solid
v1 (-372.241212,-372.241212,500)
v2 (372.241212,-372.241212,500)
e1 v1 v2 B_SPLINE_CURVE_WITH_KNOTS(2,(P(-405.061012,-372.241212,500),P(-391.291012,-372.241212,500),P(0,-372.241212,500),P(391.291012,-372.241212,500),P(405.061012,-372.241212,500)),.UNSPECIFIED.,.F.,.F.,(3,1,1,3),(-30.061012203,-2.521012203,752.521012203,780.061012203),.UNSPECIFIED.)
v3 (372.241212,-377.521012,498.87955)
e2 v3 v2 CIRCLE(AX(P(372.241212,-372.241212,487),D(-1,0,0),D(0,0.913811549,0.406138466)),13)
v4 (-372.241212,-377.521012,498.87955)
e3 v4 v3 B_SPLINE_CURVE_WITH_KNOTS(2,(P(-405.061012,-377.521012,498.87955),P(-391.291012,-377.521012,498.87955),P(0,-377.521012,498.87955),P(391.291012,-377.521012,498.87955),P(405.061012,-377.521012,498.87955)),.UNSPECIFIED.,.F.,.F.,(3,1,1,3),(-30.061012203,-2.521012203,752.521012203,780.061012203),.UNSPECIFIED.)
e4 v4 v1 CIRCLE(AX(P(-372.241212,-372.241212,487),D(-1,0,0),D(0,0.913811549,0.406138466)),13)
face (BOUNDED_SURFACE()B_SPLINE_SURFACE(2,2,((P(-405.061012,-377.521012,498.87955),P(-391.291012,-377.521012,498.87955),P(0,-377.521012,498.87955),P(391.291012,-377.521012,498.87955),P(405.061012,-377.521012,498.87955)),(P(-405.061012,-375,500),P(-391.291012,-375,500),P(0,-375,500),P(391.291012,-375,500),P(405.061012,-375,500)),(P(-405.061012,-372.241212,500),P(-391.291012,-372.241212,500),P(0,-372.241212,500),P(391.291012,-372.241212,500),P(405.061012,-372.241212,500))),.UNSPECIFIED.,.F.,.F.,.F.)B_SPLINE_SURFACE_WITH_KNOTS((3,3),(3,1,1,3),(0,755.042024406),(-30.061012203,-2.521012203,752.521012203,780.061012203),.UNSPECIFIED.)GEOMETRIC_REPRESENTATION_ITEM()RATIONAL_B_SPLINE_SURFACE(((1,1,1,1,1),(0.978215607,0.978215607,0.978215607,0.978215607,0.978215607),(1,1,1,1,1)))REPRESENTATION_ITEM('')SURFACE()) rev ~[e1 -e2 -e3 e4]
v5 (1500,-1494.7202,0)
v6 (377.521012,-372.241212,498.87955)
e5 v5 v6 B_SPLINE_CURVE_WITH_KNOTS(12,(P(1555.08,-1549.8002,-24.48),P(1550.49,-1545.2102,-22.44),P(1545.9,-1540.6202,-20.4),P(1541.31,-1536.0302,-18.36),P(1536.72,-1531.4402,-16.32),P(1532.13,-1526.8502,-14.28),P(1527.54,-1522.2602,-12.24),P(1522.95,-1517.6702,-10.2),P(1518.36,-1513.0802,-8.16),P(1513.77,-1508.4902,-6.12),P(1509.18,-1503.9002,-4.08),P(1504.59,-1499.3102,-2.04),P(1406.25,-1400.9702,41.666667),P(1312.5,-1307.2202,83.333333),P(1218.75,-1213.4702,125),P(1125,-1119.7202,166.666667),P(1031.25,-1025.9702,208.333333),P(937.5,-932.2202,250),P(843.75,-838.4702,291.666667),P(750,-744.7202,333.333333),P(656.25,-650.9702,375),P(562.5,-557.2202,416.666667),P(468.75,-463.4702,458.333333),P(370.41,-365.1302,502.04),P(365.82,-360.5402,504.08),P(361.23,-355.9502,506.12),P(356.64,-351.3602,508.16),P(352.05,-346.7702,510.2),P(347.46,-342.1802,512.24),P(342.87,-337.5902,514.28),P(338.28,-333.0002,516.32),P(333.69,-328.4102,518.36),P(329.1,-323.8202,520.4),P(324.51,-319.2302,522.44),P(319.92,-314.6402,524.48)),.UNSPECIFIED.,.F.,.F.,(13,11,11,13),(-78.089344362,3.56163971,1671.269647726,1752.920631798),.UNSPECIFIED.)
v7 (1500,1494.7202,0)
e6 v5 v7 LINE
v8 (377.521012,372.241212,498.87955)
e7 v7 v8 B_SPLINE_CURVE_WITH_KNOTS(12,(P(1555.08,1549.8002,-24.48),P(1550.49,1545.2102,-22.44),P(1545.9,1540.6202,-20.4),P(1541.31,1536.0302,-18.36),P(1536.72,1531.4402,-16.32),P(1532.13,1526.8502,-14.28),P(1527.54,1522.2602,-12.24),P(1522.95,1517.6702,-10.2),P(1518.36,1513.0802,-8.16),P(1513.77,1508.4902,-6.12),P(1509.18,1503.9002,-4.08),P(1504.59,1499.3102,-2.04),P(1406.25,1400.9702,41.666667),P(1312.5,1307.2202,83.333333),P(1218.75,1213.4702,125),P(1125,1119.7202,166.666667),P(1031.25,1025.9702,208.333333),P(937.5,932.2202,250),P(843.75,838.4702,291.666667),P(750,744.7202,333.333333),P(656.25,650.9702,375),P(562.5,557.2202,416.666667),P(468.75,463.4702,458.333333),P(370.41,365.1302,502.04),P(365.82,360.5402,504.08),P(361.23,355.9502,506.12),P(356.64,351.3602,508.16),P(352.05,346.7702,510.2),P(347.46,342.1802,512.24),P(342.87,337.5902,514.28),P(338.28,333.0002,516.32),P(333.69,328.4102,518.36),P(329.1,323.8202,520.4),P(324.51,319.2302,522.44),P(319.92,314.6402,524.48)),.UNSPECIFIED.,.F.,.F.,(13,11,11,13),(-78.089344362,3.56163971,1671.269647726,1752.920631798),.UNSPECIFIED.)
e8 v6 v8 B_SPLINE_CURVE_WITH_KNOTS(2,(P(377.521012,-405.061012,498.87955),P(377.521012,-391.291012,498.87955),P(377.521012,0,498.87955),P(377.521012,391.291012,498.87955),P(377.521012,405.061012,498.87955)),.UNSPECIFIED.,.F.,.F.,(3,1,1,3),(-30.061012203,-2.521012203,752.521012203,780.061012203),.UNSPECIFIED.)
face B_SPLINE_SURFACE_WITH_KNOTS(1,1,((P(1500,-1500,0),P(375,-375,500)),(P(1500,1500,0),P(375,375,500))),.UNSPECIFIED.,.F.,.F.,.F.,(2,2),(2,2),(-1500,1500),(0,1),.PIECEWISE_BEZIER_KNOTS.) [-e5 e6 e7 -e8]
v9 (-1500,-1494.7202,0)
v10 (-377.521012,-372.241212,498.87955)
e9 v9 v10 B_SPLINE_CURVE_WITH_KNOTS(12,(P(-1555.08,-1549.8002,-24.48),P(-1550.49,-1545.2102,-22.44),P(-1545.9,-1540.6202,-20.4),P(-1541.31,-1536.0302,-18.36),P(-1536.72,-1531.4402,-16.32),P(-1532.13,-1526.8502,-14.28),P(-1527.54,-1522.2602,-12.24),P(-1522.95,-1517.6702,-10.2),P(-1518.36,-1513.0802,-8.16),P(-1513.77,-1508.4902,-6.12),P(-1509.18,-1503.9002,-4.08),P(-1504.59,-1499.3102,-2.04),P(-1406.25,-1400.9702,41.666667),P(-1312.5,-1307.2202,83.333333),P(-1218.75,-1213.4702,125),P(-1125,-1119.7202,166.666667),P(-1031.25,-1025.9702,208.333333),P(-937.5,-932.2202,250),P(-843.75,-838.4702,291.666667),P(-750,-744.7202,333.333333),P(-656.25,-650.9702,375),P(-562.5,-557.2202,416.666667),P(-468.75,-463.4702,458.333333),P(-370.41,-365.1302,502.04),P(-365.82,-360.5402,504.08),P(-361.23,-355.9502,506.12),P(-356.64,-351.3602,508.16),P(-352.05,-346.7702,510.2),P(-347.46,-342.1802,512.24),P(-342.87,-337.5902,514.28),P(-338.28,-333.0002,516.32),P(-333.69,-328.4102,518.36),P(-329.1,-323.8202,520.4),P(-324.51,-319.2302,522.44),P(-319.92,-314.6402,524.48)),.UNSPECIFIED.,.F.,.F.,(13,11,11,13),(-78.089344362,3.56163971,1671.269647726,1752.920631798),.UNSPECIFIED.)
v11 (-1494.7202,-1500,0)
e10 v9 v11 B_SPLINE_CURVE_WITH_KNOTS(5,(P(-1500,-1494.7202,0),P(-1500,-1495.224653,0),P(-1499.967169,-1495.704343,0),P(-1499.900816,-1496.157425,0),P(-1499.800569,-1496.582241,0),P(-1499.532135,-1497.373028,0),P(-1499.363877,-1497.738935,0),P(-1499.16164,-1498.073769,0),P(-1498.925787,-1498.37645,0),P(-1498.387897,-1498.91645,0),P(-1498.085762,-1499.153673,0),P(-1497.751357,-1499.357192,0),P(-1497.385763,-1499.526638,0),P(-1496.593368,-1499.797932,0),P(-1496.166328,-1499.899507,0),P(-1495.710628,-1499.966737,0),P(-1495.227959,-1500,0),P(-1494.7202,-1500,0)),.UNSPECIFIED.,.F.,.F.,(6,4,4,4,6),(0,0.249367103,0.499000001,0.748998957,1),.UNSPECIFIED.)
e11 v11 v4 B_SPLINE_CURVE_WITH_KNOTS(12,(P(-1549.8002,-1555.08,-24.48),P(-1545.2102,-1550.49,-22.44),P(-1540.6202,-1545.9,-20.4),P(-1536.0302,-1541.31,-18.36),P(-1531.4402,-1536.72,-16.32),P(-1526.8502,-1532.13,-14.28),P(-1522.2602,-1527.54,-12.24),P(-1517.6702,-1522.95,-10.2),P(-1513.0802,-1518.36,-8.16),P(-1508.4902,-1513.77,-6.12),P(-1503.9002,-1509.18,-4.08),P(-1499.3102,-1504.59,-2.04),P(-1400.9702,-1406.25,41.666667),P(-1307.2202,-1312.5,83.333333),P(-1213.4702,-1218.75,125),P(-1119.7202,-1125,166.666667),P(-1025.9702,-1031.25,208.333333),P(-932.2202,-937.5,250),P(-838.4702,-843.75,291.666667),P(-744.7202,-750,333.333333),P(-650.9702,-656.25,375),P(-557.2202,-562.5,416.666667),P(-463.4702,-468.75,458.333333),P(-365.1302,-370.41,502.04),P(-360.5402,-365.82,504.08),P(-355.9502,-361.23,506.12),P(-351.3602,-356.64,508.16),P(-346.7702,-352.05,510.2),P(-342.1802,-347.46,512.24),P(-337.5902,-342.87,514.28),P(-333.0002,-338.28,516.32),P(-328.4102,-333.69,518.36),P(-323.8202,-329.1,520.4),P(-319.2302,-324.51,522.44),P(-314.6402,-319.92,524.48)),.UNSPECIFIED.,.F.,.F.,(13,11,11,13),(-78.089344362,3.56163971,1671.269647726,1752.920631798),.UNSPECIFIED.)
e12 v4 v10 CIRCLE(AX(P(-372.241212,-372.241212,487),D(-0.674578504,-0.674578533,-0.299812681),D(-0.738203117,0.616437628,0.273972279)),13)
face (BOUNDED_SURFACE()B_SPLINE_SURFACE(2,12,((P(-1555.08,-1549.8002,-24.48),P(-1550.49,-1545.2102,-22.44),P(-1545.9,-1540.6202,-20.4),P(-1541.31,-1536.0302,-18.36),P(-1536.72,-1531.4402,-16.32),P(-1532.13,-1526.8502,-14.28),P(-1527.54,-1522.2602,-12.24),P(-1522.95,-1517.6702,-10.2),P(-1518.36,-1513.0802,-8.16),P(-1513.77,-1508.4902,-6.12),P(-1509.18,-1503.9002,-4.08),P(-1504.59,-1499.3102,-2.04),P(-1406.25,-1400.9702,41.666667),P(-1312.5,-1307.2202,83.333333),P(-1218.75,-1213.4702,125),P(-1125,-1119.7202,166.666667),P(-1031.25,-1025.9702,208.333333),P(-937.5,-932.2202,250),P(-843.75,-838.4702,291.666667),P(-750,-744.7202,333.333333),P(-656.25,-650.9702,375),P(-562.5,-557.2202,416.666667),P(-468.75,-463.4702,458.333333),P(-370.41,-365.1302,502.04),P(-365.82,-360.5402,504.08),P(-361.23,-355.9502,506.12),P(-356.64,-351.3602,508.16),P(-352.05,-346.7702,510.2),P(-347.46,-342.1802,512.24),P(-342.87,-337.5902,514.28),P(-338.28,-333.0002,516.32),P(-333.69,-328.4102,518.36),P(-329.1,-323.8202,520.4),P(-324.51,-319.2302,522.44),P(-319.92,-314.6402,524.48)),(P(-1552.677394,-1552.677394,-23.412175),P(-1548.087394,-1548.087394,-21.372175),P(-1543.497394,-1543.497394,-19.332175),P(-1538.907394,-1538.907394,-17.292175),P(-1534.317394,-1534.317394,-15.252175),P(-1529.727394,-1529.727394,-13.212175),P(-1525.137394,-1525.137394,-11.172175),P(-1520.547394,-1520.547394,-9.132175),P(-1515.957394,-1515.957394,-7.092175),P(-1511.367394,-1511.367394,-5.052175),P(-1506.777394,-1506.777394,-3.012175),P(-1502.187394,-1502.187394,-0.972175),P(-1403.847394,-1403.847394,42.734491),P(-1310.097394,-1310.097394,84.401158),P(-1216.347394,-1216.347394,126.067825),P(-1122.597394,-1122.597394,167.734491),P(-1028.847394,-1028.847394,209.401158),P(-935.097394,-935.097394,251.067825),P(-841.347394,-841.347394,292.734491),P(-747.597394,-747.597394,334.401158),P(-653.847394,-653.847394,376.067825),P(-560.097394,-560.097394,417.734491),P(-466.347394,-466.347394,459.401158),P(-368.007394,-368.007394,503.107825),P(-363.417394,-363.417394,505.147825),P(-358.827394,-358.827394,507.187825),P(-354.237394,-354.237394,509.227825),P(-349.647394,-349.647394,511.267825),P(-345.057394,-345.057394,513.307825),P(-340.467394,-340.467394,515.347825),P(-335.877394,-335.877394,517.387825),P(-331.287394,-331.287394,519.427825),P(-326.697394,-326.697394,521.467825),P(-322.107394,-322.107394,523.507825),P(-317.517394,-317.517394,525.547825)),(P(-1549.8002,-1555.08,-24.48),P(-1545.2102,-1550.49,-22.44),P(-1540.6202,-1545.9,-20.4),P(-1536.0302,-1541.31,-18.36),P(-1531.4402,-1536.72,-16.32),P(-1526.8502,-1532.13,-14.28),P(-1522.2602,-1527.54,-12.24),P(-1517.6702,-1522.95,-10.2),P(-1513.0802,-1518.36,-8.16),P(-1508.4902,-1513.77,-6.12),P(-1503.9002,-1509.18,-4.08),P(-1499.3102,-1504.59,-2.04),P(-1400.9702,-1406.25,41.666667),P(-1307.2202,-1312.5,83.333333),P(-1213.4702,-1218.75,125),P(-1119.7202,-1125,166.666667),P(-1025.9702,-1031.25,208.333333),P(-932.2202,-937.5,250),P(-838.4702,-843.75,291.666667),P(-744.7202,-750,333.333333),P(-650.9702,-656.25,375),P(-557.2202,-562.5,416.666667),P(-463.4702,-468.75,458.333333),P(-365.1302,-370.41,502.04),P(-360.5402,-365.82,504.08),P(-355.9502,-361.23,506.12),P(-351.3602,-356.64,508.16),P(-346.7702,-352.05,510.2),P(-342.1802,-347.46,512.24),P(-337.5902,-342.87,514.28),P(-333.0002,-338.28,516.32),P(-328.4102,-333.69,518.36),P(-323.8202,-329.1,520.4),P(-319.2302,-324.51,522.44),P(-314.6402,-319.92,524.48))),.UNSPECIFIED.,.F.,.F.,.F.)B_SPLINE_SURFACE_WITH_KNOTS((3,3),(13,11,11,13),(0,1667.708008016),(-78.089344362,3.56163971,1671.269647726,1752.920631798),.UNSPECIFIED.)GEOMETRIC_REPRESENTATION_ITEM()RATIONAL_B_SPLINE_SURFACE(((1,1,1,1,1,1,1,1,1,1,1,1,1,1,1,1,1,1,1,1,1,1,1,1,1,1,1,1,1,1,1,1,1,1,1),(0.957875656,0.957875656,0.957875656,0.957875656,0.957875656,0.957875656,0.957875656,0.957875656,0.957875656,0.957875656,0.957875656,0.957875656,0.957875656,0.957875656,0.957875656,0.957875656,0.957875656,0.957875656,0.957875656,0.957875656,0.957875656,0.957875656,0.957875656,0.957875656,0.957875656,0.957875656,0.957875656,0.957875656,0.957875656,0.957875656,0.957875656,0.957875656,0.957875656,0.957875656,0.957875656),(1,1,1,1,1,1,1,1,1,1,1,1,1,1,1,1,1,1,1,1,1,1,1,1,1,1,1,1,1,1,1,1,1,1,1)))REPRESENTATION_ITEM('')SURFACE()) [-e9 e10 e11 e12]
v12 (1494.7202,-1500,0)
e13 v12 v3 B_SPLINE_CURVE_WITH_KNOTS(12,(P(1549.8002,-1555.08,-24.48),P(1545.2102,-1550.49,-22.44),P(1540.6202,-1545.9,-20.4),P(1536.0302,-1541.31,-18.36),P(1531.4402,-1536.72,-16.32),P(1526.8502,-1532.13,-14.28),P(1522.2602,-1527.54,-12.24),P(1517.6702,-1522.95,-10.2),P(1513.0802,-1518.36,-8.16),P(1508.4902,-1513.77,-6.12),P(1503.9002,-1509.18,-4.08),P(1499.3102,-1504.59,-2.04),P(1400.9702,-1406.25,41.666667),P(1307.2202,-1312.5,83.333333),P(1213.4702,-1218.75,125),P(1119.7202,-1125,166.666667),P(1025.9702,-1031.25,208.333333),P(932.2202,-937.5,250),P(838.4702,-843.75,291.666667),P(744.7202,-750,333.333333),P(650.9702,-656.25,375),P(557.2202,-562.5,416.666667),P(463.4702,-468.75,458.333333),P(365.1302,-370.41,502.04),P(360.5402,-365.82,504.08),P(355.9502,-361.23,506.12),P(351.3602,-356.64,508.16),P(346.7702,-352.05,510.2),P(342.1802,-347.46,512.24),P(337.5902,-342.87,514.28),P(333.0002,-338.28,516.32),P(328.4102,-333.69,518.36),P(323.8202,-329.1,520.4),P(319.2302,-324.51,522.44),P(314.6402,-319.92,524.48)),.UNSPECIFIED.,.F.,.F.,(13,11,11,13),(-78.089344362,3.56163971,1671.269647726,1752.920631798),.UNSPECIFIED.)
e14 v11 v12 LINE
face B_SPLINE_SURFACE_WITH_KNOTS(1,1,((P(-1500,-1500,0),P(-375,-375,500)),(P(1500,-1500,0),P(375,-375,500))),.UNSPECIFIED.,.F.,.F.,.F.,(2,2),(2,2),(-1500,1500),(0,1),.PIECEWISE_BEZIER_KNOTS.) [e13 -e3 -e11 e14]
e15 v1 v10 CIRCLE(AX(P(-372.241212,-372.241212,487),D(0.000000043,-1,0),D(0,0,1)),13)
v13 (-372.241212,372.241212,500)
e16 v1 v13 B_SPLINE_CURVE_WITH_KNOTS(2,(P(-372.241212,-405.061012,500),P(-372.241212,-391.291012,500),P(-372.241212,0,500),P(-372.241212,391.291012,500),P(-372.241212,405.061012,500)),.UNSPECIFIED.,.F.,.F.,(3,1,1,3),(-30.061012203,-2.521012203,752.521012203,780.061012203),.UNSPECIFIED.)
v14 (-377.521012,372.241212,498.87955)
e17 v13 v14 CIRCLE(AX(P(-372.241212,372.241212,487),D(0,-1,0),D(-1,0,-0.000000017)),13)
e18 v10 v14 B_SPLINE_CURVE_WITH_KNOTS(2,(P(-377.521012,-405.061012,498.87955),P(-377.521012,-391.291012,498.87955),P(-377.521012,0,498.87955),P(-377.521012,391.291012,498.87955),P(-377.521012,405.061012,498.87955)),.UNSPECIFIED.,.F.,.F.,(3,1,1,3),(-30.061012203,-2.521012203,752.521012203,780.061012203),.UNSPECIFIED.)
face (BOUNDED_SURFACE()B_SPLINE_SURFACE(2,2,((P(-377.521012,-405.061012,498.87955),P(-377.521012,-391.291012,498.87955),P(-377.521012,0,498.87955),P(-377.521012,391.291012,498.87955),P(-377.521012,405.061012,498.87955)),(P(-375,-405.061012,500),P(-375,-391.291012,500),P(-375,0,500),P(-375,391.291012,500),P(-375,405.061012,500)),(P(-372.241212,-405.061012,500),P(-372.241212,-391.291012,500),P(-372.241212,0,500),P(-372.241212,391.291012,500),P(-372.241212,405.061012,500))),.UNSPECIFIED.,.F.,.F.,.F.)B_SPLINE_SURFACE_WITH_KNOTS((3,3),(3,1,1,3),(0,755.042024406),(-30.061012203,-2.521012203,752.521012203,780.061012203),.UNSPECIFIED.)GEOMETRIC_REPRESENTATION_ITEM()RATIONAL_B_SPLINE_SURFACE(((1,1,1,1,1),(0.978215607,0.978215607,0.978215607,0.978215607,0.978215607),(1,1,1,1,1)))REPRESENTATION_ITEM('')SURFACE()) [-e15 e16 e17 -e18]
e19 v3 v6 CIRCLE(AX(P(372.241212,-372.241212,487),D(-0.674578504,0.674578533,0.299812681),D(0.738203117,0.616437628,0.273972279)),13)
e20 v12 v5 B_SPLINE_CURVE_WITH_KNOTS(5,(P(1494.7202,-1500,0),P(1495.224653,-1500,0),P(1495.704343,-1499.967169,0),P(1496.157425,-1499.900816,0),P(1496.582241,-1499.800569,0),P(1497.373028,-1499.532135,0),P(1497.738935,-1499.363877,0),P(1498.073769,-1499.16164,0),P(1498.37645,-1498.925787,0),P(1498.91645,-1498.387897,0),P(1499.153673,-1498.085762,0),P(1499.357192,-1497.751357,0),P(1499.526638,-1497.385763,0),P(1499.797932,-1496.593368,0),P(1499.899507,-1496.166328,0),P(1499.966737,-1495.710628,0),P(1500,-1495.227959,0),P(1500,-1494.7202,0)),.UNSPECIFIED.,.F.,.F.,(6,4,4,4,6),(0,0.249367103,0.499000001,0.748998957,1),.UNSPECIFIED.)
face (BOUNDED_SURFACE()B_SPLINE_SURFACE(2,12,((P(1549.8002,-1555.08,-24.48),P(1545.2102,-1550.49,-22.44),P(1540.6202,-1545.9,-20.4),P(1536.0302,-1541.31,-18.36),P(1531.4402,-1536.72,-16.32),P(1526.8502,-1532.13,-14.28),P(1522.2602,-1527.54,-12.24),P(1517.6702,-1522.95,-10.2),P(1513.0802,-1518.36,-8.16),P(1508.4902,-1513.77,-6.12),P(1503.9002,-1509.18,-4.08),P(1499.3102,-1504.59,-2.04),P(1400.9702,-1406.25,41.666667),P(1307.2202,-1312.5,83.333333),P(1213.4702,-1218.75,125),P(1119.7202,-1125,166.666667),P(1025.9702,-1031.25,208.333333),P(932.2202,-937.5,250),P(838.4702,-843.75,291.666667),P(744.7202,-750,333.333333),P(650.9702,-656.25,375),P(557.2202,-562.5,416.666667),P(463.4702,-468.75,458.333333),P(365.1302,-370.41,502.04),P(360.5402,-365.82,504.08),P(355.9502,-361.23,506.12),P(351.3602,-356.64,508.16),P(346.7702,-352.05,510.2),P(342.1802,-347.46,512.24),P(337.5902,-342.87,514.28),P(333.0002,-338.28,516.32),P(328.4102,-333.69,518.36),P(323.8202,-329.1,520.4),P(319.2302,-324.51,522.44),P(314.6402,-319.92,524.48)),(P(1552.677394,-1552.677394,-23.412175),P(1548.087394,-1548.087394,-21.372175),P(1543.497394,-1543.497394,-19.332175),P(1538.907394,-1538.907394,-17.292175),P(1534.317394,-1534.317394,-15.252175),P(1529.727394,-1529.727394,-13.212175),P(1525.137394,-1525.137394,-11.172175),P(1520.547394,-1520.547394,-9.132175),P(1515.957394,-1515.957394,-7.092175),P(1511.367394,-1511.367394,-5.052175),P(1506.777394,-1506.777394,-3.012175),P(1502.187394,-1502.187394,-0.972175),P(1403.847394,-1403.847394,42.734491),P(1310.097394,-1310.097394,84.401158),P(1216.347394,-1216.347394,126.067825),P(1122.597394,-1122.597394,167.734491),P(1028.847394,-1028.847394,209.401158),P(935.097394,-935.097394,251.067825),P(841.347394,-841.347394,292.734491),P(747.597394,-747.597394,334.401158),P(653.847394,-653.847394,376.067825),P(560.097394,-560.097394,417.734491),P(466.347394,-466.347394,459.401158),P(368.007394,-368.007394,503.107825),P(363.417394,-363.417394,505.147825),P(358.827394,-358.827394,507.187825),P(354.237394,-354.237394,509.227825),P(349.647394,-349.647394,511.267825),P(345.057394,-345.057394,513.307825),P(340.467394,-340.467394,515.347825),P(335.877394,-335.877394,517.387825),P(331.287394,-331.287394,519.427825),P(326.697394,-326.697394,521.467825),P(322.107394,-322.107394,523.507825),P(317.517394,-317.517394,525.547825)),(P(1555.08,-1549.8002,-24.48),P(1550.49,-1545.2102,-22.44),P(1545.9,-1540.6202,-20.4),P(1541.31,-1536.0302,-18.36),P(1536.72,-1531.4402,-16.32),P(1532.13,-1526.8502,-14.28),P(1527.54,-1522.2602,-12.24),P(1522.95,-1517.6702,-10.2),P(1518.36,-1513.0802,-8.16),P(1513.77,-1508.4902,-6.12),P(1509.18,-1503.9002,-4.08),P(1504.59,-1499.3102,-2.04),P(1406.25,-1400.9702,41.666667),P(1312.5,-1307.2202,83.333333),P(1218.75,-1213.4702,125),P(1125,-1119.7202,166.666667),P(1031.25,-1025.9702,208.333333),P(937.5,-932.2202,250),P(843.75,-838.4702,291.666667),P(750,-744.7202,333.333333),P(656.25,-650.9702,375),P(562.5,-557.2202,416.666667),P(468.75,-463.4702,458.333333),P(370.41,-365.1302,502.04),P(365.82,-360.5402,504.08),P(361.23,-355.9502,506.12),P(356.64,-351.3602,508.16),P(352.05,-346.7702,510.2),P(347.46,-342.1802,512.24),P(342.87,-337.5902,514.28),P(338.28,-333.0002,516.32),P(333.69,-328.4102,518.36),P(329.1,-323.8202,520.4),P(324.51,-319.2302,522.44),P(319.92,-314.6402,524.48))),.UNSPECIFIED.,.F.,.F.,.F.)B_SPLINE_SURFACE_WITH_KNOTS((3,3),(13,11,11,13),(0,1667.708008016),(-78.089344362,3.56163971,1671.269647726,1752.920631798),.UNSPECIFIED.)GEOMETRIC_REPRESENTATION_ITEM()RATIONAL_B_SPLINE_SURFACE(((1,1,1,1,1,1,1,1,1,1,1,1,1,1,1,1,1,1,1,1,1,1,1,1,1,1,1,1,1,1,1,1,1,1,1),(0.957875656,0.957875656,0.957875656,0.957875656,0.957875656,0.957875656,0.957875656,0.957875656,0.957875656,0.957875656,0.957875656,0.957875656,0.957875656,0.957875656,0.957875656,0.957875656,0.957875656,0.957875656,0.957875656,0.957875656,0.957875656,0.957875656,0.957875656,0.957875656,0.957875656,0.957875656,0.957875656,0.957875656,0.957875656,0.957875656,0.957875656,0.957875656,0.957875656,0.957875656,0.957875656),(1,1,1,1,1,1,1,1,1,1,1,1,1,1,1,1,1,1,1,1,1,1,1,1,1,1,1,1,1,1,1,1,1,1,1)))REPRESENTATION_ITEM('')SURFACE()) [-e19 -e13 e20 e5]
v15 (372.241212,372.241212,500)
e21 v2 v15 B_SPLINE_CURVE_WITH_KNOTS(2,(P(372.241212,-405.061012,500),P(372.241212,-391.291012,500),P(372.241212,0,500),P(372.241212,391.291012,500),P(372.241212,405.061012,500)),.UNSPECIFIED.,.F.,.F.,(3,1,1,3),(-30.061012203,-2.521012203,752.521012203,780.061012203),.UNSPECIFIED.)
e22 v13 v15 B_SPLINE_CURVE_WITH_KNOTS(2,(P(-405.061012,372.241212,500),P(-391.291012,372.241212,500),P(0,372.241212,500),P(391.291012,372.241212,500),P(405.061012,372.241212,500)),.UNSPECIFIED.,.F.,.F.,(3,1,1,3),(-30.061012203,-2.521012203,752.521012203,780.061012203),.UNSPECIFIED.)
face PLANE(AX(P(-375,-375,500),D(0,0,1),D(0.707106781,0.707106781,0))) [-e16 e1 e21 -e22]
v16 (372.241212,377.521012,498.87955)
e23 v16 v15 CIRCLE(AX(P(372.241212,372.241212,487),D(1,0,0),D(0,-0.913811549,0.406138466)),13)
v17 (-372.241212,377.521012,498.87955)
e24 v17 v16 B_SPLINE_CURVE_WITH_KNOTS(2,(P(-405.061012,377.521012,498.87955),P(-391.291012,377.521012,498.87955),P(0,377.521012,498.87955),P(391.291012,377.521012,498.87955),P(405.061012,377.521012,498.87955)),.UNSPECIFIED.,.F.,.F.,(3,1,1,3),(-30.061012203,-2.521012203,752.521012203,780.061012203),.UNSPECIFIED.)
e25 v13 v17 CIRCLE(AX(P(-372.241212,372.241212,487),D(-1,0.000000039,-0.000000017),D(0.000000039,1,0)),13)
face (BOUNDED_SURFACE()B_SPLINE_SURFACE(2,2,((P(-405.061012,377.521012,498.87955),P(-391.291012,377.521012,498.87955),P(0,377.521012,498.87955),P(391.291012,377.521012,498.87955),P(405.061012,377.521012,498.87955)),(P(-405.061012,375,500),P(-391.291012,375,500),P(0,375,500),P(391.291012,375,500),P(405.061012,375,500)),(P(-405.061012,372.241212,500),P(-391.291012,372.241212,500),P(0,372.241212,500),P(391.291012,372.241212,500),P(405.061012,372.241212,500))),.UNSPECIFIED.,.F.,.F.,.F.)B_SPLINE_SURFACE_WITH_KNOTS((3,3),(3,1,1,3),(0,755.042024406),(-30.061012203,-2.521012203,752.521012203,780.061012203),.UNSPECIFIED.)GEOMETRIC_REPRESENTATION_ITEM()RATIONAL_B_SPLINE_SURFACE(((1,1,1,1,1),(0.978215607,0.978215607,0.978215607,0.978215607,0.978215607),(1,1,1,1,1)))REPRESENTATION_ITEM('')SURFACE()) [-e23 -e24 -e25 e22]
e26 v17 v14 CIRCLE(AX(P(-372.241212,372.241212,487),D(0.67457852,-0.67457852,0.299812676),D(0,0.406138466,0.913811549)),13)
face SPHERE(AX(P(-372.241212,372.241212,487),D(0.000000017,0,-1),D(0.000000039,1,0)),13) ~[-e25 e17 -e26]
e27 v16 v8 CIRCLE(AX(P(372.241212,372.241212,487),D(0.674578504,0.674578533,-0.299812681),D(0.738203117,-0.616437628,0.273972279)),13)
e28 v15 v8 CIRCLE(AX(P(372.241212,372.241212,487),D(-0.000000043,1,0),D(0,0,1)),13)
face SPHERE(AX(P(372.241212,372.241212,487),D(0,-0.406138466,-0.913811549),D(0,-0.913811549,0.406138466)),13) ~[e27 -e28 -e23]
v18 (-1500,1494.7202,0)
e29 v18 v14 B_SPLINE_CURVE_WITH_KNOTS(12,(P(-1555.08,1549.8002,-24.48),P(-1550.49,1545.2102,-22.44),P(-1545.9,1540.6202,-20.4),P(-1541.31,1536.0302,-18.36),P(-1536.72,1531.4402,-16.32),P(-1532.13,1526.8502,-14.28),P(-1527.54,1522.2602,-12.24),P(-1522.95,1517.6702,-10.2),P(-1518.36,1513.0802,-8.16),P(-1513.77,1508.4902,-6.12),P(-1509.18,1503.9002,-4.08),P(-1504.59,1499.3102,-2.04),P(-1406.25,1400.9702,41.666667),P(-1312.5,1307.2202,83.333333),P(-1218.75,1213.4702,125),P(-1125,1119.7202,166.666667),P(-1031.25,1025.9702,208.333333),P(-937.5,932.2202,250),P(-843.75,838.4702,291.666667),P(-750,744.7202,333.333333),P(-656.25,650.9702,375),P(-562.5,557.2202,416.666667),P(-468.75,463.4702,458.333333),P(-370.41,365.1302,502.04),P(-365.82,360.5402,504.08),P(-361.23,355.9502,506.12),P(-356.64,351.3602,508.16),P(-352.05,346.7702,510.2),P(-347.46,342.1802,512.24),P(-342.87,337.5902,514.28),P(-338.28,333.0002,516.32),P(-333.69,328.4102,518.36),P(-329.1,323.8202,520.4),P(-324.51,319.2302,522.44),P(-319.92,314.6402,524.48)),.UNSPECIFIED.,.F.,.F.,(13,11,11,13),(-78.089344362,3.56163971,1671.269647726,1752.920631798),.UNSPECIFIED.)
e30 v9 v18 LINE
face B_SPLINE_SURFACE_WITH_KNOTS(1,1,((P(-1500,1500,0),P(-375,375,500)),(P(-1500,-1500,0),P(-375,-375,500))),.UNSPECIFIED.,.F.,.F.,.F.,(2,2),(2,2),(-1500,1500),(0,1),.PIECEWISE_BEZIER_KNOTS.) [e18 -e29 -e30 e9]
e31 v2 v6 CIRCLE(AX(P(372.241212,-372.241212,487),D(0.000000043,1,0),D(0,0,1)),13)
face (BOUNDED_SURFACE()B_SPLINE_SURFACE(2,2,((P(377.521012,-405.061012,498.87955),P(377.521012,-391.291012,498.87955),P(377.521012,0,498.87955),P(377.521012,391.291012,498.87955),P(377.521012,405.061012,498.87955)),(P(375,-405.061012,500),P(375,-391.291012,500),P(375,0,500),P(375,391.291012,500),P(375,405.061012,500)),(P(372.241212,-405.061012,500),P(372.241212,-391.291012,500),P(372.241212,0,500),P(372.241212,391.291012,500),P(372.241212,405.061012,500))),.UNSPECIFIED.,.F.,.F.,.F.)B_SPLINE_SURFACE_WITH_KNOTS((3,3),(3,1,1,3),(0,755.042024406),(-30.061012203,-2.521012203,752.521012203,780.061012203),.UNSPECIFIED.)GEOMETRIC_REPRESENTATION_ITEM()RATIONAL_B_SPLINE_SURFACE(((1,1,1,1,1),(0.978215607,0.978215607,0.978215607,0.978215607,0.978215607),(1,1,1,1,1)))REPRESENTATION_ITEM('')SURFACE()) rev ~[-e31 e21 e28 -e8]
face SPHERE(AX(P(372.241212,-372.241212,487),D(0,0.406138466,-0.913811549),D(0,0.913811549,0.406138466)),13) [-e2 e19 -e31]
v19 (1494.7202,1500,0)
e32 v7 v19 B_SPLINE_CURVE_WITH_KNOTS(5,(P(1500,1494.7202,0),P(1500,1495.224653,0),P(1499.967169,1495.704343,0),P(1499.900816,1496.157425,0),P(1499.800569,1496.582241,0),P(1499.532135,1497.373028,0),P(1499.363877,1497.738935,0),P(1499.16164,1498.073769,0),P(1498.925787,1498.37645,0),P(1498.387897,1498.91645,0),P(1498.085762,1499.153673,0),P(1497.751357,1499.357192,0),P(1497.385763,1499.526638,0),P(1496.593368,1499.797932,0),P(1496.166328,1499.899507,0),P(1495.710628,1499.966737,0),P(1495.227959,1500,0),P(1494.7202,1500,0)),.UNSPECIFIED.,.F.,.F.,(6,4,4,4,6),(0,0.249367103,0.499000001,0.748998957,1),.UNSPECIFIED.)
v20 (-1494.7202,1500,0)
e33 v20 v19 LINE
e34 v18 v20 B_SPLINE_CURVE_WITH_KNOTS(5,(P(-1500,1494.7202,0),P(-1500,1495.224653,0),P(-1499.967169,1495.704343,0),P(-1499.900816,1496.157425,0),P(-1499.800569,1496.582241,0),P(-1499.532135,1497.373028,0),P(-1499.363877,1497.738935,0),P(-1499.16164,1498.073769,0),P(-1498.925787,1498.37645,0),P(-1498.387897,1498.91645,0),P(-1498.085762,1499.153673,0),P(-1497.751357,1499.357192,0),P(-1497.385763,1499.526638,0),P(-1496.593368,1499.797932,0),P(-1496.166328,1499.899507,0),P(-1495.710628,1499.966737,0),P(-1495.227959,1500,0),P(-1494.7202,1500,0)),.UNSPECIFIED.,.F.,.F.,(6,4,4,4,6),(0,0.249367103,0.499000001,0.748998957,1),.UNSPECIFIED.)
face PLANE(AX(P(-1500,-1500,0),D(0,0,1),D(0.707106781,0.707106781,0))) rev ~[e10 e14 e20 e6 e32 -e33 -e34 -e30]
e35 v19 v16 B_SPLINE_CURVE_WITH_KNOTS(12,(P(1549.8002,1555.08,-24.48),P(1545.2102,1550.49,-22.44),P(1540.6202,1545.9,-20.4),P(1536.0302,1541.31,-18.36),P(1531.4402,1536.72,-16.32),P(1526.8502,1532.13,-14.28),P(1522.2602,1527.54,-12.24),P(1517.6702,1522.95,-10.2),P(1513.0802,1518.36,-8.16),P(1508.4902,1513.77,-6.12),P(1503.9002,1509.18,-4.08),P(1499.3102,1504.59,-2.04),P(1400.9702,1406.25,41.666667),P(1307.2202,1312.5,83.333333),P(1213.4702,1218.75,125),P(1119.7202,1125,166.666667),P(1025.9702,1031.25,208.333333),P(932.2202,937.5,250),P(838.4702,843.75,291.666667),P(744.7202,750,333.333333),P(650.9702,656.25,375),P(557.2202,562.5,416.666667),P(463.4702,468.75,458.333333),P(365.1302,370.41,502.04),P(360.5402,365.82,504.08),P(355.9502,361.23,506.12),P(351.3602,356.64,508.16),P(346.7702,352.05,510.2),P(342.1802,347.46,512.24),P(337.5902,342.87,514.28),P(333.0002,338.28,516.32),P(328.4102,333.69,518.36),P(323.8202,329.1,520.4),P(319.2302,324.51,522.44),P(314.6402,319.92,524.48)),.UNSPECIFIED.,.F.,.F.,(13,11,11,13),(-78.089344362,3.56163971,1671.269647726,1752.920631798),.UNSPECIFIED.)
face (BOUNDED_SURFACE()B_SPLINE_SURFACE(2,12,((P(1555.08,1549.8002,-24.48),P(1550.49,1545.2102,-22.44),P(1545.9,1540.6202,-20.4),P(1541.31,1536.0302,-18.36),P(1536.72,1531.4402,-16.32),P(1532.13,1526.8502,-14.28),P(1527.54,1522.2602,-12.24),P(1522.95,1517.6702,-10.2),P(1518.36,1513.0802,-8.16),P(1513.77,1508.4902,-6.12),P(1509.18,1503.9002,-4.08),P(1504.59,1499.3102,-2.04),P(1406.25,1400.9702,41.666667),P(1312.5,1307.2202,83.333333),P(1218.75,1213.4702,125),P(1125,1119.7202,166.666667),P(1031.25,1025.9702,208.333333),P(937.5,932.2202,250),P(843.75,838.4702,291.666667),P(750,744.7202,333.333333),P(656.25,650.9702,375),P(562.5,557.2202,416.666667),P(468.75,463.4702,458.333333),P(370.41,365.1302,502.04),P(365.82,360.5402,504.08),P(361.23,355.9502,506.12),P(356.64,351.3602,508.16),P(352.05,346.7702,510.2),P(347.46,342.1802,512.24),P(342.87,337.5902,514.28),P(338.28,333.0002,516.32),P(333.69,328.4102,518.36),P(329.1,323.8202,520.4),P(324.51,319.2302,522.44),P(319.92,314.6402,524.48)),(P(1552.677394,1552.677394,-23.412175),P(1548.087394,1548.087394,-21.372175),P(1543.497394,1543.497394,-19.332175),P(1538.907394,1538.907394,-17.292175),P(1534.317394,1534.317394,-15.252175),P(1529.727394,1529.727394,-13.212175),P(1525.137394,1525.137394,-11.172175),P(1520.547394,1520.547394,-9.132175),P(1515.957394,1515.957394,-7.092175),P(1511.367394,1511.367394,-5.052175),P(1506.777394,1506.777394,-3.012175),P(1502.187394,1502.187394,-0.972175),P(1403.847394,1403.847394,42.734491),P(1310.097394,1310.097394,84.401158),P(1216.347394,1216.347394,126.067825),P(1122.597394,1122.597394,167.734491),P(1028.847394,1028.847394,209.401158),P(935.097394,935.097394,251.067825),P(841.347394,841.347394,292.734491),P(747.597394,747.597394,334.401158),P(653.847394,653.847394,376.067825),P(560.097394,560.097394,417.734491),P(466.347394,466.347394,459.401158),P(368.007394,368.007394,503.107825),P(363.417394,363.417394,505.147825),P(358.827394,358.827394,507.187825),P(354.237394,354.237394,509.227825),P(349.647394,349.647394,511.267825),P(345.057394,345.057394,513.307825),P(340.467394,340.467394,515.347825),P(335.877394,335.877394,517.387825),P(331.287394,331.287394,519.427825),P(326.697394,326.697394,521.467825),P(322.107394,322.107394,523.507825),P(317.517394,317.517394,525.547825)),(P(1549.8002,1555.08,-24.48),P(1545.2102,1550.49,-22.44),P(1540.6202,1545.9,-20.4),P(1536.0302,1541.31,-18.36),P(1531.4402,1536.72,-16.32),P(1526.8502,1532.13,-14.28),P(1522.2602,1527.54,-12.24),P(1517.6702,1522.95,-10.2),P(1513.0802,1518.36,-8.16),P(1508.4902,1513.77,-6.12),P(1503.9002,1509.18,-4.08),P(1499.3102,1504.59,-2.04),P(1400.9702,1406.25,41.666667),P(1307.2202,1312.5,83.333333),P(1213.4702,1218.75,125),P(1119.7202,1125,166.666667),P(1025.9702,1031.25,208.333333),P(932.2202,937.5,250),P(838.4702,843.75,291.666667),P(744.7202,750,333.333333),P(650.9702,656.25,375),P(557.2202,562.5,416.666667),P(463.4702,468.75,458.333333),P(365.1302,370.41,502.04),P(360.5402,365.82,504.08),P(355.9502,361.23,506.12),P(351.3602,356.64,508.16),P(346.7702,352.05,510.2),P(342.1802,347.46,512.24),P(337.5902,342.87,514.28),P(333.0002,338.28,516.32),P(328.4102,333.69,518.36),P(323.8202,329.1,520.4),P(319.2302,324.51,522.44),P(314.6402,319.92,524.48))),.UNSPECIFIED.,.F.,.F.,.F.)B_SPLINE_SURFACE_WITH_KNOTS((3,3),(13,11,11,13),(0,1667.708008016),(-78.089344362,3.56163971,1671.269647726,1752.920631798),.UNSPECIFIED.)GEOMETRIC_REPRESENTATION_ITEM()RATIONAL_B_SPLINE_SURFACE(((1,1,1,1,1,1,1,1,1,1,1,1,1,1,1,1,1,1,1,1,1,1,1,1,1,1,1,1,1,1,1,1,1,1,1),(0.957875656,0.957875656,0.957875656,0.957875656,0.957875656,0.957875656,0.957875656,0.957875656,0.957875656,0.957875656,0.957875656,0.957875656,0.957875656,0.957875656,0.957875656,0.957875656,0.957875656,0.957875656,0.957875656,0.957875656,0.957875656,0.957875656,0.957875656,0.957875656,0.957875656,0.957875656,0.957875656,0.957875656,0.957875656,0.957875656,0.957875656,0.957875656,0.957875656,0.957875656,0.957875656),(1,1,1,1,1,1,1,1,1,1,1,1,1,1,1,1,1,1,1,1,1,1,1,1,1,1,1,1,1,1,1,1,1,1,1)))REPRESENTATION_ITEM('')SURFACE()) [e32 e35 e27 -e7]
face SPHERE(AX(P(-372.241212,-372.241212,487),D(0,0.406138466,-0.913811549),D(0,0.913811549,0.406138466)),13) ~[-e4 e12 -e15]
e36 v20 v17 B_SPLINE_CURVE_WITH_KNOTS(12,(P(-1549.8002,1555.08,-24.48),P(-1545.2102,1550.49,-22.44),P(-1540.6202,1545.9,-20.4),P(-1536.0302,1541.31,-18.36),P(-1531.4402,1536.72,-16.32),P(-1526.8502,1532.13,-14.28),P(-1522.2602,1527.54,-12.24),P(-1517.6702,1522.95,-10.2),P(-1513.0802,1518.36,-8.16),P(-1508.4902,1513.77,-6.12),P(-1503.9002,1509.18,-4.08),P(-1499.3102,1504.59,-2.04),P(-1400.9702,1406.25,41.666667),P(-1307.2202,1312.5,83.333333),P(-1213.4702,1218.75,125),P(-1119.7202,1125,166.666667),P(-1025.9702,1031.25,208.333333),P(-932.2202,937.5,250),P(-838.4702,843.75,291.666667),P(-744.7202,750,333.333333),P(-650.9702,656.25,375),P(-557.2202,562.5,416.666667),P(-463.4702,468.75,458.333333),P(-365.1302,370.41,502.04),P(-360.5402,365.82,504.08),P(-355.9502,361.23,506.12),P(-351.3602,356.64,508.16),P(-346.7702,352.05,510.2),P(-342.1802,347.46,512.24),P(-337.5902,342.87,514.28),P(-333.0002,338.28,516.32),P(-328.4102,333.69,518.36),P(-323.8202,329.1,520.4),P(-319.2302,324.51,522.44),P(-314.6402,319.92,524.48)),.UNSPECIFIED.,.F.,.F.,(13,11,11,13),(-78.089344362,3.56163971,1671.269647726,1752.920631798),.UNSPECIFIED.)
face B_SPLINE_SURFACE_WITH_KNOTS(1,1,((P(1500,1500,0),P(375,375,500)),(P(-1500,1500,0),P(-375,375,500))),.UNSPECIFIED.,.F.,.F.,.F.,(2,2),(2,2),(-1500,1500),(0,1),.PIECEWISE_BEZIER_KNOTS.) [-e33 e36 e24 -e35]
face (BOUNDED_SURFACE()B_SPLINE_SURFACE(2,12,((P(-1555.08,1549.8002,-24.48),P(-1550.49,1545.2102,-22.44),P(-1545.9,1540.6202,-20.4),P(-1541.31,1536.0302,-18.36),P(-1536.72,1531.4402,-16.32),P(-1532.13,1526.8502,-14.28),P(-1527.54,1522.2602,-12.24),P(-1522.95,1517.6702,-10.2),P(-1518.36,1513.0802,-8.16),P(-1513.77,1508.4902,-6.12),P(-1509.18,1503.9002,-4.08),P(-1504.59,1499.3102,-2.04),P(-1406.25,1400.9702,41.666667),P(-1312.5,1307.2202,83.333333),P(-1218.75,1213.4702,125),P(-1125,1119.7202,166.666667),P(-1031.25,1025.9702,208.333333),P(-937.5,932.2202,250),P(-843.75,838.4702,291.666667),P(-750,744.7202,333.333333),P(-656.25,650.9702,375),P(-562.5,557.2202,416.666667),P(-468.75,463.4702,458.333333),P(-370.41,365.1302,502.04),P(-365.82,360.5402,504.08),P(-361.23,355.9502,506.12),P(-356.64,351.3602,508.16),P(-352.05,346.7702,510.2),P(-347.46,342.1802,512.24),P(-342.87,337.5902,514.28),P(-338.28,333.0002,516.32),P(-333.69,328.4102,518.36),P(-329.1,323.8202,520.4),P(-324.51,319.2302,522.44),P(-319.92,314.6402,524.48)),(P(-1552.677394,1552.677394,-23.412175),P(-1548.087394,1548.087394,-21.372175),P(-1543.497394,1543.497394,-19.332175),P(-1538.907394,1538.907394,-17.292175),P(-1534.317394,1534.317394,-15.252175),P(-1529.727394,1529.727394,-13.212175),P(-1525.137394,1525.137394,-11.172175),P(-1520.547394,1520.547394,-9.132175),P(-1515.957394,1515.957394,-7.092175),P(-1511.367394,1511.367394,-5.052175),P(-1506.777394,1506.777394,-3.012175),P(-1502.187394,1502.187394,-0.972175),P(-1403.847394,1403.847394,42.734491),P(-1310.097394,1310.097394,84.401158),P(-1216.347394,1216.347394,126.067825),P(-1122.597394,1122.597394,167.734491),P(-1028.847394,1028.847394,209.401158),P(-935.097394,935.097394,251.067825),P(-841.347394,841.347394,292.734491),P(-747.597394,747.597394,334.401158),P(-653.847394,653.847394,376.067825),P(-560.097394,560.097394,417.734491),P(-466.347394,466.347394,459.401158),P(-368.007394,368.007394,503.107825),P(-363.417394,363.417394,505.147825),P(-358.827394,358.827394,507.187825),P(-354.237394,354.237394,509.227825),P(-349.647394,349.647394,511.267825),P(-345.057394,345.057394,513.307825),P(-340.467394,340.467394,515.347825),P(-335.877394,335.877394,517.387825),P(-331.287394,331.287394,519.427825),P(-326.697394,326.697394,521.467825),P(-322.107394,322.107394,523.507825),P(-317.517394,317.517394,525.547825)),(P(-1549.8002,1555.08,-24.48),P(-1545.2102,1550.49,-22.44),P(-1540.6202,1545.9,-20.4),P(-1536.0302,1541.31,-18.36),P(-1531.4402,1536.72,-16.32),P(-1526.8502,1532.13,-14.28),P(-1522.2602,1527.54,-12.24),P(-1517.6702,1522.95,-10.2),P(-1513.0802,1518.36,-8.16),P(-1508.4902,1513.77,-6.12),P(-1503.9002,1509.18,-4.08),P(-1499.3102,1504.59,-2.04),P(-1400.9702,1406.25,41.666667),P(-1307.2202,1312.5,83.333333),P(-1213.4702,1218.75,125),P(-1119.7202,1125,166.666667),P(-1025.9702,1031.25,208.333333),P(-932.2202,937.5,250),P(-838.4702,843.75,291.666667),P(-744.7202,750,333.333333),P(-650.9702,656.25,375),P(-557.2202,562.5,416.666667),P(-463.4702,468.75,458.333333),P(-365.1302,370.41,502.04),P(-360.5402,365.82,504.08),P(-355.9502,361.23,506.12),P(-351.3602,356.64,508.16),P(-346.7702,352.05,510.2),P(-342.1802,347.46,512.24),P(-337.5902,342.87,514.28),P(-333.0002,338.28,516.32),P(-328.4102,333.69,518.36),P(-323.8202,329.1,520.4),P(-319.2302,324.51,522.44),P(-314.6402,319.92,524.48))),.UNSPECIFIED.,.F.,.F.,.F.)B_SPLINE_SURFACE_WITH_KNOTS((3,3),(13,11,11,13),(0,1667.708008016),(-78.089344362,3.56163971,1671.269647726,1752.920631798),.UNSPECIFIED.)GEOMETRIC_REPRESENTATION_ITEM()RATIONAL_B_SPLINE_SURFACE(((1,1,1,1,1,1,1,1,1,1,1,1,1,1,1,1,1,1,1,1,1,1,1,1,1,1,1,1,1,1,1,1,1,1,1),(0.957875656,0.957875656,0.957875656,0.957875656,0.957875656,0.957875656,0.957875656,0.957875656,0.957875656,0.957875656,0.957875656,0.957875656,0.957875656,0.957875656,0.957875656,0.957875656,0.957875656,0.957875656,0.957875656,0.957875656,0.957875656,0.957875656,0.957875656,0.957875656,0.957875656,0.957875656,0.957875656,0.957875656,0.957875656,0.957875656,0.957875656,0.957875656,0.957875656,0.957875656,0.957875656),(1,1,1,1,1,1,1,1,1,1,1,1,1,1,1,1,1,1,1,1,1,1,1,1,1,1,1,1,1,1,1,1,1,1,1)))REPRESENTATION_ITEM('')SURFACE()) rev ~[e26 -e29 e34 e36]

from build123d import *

# Parameters (mm, degrees)
F0_W = 3000
F0_H = 3000
F2_W = 750
F2_H = 750
F4_R = 13


with BuildPart() as f3:
    # F0 (on Top) → F3 section 0
    with BuildSketch(Plane.XY):
        Rectangle(F0_W, F0_H)
    # F2 (on offset) → F3 section 1
    with BuildSketch(Plane.XY.offset(500)):
        Rectangle(F2_W, F2_H)
    loft()

    # F4
    f4_edges = [f3.edges().sort_by_distance(p)[0] for p in [
        (-937.5, 937.5, 250),
        (375, 0, 500),
        (0, 375, 500),
        (-375, 0, 500),
        (0, -375, 500),
        (-937.5, -937.5, 250),
        (937.5, -937.5, 250),
        (937.5, 937.5, 250),
    ]]
    fillet(f4_edges, radius=F4_R)


solid = f3.part
